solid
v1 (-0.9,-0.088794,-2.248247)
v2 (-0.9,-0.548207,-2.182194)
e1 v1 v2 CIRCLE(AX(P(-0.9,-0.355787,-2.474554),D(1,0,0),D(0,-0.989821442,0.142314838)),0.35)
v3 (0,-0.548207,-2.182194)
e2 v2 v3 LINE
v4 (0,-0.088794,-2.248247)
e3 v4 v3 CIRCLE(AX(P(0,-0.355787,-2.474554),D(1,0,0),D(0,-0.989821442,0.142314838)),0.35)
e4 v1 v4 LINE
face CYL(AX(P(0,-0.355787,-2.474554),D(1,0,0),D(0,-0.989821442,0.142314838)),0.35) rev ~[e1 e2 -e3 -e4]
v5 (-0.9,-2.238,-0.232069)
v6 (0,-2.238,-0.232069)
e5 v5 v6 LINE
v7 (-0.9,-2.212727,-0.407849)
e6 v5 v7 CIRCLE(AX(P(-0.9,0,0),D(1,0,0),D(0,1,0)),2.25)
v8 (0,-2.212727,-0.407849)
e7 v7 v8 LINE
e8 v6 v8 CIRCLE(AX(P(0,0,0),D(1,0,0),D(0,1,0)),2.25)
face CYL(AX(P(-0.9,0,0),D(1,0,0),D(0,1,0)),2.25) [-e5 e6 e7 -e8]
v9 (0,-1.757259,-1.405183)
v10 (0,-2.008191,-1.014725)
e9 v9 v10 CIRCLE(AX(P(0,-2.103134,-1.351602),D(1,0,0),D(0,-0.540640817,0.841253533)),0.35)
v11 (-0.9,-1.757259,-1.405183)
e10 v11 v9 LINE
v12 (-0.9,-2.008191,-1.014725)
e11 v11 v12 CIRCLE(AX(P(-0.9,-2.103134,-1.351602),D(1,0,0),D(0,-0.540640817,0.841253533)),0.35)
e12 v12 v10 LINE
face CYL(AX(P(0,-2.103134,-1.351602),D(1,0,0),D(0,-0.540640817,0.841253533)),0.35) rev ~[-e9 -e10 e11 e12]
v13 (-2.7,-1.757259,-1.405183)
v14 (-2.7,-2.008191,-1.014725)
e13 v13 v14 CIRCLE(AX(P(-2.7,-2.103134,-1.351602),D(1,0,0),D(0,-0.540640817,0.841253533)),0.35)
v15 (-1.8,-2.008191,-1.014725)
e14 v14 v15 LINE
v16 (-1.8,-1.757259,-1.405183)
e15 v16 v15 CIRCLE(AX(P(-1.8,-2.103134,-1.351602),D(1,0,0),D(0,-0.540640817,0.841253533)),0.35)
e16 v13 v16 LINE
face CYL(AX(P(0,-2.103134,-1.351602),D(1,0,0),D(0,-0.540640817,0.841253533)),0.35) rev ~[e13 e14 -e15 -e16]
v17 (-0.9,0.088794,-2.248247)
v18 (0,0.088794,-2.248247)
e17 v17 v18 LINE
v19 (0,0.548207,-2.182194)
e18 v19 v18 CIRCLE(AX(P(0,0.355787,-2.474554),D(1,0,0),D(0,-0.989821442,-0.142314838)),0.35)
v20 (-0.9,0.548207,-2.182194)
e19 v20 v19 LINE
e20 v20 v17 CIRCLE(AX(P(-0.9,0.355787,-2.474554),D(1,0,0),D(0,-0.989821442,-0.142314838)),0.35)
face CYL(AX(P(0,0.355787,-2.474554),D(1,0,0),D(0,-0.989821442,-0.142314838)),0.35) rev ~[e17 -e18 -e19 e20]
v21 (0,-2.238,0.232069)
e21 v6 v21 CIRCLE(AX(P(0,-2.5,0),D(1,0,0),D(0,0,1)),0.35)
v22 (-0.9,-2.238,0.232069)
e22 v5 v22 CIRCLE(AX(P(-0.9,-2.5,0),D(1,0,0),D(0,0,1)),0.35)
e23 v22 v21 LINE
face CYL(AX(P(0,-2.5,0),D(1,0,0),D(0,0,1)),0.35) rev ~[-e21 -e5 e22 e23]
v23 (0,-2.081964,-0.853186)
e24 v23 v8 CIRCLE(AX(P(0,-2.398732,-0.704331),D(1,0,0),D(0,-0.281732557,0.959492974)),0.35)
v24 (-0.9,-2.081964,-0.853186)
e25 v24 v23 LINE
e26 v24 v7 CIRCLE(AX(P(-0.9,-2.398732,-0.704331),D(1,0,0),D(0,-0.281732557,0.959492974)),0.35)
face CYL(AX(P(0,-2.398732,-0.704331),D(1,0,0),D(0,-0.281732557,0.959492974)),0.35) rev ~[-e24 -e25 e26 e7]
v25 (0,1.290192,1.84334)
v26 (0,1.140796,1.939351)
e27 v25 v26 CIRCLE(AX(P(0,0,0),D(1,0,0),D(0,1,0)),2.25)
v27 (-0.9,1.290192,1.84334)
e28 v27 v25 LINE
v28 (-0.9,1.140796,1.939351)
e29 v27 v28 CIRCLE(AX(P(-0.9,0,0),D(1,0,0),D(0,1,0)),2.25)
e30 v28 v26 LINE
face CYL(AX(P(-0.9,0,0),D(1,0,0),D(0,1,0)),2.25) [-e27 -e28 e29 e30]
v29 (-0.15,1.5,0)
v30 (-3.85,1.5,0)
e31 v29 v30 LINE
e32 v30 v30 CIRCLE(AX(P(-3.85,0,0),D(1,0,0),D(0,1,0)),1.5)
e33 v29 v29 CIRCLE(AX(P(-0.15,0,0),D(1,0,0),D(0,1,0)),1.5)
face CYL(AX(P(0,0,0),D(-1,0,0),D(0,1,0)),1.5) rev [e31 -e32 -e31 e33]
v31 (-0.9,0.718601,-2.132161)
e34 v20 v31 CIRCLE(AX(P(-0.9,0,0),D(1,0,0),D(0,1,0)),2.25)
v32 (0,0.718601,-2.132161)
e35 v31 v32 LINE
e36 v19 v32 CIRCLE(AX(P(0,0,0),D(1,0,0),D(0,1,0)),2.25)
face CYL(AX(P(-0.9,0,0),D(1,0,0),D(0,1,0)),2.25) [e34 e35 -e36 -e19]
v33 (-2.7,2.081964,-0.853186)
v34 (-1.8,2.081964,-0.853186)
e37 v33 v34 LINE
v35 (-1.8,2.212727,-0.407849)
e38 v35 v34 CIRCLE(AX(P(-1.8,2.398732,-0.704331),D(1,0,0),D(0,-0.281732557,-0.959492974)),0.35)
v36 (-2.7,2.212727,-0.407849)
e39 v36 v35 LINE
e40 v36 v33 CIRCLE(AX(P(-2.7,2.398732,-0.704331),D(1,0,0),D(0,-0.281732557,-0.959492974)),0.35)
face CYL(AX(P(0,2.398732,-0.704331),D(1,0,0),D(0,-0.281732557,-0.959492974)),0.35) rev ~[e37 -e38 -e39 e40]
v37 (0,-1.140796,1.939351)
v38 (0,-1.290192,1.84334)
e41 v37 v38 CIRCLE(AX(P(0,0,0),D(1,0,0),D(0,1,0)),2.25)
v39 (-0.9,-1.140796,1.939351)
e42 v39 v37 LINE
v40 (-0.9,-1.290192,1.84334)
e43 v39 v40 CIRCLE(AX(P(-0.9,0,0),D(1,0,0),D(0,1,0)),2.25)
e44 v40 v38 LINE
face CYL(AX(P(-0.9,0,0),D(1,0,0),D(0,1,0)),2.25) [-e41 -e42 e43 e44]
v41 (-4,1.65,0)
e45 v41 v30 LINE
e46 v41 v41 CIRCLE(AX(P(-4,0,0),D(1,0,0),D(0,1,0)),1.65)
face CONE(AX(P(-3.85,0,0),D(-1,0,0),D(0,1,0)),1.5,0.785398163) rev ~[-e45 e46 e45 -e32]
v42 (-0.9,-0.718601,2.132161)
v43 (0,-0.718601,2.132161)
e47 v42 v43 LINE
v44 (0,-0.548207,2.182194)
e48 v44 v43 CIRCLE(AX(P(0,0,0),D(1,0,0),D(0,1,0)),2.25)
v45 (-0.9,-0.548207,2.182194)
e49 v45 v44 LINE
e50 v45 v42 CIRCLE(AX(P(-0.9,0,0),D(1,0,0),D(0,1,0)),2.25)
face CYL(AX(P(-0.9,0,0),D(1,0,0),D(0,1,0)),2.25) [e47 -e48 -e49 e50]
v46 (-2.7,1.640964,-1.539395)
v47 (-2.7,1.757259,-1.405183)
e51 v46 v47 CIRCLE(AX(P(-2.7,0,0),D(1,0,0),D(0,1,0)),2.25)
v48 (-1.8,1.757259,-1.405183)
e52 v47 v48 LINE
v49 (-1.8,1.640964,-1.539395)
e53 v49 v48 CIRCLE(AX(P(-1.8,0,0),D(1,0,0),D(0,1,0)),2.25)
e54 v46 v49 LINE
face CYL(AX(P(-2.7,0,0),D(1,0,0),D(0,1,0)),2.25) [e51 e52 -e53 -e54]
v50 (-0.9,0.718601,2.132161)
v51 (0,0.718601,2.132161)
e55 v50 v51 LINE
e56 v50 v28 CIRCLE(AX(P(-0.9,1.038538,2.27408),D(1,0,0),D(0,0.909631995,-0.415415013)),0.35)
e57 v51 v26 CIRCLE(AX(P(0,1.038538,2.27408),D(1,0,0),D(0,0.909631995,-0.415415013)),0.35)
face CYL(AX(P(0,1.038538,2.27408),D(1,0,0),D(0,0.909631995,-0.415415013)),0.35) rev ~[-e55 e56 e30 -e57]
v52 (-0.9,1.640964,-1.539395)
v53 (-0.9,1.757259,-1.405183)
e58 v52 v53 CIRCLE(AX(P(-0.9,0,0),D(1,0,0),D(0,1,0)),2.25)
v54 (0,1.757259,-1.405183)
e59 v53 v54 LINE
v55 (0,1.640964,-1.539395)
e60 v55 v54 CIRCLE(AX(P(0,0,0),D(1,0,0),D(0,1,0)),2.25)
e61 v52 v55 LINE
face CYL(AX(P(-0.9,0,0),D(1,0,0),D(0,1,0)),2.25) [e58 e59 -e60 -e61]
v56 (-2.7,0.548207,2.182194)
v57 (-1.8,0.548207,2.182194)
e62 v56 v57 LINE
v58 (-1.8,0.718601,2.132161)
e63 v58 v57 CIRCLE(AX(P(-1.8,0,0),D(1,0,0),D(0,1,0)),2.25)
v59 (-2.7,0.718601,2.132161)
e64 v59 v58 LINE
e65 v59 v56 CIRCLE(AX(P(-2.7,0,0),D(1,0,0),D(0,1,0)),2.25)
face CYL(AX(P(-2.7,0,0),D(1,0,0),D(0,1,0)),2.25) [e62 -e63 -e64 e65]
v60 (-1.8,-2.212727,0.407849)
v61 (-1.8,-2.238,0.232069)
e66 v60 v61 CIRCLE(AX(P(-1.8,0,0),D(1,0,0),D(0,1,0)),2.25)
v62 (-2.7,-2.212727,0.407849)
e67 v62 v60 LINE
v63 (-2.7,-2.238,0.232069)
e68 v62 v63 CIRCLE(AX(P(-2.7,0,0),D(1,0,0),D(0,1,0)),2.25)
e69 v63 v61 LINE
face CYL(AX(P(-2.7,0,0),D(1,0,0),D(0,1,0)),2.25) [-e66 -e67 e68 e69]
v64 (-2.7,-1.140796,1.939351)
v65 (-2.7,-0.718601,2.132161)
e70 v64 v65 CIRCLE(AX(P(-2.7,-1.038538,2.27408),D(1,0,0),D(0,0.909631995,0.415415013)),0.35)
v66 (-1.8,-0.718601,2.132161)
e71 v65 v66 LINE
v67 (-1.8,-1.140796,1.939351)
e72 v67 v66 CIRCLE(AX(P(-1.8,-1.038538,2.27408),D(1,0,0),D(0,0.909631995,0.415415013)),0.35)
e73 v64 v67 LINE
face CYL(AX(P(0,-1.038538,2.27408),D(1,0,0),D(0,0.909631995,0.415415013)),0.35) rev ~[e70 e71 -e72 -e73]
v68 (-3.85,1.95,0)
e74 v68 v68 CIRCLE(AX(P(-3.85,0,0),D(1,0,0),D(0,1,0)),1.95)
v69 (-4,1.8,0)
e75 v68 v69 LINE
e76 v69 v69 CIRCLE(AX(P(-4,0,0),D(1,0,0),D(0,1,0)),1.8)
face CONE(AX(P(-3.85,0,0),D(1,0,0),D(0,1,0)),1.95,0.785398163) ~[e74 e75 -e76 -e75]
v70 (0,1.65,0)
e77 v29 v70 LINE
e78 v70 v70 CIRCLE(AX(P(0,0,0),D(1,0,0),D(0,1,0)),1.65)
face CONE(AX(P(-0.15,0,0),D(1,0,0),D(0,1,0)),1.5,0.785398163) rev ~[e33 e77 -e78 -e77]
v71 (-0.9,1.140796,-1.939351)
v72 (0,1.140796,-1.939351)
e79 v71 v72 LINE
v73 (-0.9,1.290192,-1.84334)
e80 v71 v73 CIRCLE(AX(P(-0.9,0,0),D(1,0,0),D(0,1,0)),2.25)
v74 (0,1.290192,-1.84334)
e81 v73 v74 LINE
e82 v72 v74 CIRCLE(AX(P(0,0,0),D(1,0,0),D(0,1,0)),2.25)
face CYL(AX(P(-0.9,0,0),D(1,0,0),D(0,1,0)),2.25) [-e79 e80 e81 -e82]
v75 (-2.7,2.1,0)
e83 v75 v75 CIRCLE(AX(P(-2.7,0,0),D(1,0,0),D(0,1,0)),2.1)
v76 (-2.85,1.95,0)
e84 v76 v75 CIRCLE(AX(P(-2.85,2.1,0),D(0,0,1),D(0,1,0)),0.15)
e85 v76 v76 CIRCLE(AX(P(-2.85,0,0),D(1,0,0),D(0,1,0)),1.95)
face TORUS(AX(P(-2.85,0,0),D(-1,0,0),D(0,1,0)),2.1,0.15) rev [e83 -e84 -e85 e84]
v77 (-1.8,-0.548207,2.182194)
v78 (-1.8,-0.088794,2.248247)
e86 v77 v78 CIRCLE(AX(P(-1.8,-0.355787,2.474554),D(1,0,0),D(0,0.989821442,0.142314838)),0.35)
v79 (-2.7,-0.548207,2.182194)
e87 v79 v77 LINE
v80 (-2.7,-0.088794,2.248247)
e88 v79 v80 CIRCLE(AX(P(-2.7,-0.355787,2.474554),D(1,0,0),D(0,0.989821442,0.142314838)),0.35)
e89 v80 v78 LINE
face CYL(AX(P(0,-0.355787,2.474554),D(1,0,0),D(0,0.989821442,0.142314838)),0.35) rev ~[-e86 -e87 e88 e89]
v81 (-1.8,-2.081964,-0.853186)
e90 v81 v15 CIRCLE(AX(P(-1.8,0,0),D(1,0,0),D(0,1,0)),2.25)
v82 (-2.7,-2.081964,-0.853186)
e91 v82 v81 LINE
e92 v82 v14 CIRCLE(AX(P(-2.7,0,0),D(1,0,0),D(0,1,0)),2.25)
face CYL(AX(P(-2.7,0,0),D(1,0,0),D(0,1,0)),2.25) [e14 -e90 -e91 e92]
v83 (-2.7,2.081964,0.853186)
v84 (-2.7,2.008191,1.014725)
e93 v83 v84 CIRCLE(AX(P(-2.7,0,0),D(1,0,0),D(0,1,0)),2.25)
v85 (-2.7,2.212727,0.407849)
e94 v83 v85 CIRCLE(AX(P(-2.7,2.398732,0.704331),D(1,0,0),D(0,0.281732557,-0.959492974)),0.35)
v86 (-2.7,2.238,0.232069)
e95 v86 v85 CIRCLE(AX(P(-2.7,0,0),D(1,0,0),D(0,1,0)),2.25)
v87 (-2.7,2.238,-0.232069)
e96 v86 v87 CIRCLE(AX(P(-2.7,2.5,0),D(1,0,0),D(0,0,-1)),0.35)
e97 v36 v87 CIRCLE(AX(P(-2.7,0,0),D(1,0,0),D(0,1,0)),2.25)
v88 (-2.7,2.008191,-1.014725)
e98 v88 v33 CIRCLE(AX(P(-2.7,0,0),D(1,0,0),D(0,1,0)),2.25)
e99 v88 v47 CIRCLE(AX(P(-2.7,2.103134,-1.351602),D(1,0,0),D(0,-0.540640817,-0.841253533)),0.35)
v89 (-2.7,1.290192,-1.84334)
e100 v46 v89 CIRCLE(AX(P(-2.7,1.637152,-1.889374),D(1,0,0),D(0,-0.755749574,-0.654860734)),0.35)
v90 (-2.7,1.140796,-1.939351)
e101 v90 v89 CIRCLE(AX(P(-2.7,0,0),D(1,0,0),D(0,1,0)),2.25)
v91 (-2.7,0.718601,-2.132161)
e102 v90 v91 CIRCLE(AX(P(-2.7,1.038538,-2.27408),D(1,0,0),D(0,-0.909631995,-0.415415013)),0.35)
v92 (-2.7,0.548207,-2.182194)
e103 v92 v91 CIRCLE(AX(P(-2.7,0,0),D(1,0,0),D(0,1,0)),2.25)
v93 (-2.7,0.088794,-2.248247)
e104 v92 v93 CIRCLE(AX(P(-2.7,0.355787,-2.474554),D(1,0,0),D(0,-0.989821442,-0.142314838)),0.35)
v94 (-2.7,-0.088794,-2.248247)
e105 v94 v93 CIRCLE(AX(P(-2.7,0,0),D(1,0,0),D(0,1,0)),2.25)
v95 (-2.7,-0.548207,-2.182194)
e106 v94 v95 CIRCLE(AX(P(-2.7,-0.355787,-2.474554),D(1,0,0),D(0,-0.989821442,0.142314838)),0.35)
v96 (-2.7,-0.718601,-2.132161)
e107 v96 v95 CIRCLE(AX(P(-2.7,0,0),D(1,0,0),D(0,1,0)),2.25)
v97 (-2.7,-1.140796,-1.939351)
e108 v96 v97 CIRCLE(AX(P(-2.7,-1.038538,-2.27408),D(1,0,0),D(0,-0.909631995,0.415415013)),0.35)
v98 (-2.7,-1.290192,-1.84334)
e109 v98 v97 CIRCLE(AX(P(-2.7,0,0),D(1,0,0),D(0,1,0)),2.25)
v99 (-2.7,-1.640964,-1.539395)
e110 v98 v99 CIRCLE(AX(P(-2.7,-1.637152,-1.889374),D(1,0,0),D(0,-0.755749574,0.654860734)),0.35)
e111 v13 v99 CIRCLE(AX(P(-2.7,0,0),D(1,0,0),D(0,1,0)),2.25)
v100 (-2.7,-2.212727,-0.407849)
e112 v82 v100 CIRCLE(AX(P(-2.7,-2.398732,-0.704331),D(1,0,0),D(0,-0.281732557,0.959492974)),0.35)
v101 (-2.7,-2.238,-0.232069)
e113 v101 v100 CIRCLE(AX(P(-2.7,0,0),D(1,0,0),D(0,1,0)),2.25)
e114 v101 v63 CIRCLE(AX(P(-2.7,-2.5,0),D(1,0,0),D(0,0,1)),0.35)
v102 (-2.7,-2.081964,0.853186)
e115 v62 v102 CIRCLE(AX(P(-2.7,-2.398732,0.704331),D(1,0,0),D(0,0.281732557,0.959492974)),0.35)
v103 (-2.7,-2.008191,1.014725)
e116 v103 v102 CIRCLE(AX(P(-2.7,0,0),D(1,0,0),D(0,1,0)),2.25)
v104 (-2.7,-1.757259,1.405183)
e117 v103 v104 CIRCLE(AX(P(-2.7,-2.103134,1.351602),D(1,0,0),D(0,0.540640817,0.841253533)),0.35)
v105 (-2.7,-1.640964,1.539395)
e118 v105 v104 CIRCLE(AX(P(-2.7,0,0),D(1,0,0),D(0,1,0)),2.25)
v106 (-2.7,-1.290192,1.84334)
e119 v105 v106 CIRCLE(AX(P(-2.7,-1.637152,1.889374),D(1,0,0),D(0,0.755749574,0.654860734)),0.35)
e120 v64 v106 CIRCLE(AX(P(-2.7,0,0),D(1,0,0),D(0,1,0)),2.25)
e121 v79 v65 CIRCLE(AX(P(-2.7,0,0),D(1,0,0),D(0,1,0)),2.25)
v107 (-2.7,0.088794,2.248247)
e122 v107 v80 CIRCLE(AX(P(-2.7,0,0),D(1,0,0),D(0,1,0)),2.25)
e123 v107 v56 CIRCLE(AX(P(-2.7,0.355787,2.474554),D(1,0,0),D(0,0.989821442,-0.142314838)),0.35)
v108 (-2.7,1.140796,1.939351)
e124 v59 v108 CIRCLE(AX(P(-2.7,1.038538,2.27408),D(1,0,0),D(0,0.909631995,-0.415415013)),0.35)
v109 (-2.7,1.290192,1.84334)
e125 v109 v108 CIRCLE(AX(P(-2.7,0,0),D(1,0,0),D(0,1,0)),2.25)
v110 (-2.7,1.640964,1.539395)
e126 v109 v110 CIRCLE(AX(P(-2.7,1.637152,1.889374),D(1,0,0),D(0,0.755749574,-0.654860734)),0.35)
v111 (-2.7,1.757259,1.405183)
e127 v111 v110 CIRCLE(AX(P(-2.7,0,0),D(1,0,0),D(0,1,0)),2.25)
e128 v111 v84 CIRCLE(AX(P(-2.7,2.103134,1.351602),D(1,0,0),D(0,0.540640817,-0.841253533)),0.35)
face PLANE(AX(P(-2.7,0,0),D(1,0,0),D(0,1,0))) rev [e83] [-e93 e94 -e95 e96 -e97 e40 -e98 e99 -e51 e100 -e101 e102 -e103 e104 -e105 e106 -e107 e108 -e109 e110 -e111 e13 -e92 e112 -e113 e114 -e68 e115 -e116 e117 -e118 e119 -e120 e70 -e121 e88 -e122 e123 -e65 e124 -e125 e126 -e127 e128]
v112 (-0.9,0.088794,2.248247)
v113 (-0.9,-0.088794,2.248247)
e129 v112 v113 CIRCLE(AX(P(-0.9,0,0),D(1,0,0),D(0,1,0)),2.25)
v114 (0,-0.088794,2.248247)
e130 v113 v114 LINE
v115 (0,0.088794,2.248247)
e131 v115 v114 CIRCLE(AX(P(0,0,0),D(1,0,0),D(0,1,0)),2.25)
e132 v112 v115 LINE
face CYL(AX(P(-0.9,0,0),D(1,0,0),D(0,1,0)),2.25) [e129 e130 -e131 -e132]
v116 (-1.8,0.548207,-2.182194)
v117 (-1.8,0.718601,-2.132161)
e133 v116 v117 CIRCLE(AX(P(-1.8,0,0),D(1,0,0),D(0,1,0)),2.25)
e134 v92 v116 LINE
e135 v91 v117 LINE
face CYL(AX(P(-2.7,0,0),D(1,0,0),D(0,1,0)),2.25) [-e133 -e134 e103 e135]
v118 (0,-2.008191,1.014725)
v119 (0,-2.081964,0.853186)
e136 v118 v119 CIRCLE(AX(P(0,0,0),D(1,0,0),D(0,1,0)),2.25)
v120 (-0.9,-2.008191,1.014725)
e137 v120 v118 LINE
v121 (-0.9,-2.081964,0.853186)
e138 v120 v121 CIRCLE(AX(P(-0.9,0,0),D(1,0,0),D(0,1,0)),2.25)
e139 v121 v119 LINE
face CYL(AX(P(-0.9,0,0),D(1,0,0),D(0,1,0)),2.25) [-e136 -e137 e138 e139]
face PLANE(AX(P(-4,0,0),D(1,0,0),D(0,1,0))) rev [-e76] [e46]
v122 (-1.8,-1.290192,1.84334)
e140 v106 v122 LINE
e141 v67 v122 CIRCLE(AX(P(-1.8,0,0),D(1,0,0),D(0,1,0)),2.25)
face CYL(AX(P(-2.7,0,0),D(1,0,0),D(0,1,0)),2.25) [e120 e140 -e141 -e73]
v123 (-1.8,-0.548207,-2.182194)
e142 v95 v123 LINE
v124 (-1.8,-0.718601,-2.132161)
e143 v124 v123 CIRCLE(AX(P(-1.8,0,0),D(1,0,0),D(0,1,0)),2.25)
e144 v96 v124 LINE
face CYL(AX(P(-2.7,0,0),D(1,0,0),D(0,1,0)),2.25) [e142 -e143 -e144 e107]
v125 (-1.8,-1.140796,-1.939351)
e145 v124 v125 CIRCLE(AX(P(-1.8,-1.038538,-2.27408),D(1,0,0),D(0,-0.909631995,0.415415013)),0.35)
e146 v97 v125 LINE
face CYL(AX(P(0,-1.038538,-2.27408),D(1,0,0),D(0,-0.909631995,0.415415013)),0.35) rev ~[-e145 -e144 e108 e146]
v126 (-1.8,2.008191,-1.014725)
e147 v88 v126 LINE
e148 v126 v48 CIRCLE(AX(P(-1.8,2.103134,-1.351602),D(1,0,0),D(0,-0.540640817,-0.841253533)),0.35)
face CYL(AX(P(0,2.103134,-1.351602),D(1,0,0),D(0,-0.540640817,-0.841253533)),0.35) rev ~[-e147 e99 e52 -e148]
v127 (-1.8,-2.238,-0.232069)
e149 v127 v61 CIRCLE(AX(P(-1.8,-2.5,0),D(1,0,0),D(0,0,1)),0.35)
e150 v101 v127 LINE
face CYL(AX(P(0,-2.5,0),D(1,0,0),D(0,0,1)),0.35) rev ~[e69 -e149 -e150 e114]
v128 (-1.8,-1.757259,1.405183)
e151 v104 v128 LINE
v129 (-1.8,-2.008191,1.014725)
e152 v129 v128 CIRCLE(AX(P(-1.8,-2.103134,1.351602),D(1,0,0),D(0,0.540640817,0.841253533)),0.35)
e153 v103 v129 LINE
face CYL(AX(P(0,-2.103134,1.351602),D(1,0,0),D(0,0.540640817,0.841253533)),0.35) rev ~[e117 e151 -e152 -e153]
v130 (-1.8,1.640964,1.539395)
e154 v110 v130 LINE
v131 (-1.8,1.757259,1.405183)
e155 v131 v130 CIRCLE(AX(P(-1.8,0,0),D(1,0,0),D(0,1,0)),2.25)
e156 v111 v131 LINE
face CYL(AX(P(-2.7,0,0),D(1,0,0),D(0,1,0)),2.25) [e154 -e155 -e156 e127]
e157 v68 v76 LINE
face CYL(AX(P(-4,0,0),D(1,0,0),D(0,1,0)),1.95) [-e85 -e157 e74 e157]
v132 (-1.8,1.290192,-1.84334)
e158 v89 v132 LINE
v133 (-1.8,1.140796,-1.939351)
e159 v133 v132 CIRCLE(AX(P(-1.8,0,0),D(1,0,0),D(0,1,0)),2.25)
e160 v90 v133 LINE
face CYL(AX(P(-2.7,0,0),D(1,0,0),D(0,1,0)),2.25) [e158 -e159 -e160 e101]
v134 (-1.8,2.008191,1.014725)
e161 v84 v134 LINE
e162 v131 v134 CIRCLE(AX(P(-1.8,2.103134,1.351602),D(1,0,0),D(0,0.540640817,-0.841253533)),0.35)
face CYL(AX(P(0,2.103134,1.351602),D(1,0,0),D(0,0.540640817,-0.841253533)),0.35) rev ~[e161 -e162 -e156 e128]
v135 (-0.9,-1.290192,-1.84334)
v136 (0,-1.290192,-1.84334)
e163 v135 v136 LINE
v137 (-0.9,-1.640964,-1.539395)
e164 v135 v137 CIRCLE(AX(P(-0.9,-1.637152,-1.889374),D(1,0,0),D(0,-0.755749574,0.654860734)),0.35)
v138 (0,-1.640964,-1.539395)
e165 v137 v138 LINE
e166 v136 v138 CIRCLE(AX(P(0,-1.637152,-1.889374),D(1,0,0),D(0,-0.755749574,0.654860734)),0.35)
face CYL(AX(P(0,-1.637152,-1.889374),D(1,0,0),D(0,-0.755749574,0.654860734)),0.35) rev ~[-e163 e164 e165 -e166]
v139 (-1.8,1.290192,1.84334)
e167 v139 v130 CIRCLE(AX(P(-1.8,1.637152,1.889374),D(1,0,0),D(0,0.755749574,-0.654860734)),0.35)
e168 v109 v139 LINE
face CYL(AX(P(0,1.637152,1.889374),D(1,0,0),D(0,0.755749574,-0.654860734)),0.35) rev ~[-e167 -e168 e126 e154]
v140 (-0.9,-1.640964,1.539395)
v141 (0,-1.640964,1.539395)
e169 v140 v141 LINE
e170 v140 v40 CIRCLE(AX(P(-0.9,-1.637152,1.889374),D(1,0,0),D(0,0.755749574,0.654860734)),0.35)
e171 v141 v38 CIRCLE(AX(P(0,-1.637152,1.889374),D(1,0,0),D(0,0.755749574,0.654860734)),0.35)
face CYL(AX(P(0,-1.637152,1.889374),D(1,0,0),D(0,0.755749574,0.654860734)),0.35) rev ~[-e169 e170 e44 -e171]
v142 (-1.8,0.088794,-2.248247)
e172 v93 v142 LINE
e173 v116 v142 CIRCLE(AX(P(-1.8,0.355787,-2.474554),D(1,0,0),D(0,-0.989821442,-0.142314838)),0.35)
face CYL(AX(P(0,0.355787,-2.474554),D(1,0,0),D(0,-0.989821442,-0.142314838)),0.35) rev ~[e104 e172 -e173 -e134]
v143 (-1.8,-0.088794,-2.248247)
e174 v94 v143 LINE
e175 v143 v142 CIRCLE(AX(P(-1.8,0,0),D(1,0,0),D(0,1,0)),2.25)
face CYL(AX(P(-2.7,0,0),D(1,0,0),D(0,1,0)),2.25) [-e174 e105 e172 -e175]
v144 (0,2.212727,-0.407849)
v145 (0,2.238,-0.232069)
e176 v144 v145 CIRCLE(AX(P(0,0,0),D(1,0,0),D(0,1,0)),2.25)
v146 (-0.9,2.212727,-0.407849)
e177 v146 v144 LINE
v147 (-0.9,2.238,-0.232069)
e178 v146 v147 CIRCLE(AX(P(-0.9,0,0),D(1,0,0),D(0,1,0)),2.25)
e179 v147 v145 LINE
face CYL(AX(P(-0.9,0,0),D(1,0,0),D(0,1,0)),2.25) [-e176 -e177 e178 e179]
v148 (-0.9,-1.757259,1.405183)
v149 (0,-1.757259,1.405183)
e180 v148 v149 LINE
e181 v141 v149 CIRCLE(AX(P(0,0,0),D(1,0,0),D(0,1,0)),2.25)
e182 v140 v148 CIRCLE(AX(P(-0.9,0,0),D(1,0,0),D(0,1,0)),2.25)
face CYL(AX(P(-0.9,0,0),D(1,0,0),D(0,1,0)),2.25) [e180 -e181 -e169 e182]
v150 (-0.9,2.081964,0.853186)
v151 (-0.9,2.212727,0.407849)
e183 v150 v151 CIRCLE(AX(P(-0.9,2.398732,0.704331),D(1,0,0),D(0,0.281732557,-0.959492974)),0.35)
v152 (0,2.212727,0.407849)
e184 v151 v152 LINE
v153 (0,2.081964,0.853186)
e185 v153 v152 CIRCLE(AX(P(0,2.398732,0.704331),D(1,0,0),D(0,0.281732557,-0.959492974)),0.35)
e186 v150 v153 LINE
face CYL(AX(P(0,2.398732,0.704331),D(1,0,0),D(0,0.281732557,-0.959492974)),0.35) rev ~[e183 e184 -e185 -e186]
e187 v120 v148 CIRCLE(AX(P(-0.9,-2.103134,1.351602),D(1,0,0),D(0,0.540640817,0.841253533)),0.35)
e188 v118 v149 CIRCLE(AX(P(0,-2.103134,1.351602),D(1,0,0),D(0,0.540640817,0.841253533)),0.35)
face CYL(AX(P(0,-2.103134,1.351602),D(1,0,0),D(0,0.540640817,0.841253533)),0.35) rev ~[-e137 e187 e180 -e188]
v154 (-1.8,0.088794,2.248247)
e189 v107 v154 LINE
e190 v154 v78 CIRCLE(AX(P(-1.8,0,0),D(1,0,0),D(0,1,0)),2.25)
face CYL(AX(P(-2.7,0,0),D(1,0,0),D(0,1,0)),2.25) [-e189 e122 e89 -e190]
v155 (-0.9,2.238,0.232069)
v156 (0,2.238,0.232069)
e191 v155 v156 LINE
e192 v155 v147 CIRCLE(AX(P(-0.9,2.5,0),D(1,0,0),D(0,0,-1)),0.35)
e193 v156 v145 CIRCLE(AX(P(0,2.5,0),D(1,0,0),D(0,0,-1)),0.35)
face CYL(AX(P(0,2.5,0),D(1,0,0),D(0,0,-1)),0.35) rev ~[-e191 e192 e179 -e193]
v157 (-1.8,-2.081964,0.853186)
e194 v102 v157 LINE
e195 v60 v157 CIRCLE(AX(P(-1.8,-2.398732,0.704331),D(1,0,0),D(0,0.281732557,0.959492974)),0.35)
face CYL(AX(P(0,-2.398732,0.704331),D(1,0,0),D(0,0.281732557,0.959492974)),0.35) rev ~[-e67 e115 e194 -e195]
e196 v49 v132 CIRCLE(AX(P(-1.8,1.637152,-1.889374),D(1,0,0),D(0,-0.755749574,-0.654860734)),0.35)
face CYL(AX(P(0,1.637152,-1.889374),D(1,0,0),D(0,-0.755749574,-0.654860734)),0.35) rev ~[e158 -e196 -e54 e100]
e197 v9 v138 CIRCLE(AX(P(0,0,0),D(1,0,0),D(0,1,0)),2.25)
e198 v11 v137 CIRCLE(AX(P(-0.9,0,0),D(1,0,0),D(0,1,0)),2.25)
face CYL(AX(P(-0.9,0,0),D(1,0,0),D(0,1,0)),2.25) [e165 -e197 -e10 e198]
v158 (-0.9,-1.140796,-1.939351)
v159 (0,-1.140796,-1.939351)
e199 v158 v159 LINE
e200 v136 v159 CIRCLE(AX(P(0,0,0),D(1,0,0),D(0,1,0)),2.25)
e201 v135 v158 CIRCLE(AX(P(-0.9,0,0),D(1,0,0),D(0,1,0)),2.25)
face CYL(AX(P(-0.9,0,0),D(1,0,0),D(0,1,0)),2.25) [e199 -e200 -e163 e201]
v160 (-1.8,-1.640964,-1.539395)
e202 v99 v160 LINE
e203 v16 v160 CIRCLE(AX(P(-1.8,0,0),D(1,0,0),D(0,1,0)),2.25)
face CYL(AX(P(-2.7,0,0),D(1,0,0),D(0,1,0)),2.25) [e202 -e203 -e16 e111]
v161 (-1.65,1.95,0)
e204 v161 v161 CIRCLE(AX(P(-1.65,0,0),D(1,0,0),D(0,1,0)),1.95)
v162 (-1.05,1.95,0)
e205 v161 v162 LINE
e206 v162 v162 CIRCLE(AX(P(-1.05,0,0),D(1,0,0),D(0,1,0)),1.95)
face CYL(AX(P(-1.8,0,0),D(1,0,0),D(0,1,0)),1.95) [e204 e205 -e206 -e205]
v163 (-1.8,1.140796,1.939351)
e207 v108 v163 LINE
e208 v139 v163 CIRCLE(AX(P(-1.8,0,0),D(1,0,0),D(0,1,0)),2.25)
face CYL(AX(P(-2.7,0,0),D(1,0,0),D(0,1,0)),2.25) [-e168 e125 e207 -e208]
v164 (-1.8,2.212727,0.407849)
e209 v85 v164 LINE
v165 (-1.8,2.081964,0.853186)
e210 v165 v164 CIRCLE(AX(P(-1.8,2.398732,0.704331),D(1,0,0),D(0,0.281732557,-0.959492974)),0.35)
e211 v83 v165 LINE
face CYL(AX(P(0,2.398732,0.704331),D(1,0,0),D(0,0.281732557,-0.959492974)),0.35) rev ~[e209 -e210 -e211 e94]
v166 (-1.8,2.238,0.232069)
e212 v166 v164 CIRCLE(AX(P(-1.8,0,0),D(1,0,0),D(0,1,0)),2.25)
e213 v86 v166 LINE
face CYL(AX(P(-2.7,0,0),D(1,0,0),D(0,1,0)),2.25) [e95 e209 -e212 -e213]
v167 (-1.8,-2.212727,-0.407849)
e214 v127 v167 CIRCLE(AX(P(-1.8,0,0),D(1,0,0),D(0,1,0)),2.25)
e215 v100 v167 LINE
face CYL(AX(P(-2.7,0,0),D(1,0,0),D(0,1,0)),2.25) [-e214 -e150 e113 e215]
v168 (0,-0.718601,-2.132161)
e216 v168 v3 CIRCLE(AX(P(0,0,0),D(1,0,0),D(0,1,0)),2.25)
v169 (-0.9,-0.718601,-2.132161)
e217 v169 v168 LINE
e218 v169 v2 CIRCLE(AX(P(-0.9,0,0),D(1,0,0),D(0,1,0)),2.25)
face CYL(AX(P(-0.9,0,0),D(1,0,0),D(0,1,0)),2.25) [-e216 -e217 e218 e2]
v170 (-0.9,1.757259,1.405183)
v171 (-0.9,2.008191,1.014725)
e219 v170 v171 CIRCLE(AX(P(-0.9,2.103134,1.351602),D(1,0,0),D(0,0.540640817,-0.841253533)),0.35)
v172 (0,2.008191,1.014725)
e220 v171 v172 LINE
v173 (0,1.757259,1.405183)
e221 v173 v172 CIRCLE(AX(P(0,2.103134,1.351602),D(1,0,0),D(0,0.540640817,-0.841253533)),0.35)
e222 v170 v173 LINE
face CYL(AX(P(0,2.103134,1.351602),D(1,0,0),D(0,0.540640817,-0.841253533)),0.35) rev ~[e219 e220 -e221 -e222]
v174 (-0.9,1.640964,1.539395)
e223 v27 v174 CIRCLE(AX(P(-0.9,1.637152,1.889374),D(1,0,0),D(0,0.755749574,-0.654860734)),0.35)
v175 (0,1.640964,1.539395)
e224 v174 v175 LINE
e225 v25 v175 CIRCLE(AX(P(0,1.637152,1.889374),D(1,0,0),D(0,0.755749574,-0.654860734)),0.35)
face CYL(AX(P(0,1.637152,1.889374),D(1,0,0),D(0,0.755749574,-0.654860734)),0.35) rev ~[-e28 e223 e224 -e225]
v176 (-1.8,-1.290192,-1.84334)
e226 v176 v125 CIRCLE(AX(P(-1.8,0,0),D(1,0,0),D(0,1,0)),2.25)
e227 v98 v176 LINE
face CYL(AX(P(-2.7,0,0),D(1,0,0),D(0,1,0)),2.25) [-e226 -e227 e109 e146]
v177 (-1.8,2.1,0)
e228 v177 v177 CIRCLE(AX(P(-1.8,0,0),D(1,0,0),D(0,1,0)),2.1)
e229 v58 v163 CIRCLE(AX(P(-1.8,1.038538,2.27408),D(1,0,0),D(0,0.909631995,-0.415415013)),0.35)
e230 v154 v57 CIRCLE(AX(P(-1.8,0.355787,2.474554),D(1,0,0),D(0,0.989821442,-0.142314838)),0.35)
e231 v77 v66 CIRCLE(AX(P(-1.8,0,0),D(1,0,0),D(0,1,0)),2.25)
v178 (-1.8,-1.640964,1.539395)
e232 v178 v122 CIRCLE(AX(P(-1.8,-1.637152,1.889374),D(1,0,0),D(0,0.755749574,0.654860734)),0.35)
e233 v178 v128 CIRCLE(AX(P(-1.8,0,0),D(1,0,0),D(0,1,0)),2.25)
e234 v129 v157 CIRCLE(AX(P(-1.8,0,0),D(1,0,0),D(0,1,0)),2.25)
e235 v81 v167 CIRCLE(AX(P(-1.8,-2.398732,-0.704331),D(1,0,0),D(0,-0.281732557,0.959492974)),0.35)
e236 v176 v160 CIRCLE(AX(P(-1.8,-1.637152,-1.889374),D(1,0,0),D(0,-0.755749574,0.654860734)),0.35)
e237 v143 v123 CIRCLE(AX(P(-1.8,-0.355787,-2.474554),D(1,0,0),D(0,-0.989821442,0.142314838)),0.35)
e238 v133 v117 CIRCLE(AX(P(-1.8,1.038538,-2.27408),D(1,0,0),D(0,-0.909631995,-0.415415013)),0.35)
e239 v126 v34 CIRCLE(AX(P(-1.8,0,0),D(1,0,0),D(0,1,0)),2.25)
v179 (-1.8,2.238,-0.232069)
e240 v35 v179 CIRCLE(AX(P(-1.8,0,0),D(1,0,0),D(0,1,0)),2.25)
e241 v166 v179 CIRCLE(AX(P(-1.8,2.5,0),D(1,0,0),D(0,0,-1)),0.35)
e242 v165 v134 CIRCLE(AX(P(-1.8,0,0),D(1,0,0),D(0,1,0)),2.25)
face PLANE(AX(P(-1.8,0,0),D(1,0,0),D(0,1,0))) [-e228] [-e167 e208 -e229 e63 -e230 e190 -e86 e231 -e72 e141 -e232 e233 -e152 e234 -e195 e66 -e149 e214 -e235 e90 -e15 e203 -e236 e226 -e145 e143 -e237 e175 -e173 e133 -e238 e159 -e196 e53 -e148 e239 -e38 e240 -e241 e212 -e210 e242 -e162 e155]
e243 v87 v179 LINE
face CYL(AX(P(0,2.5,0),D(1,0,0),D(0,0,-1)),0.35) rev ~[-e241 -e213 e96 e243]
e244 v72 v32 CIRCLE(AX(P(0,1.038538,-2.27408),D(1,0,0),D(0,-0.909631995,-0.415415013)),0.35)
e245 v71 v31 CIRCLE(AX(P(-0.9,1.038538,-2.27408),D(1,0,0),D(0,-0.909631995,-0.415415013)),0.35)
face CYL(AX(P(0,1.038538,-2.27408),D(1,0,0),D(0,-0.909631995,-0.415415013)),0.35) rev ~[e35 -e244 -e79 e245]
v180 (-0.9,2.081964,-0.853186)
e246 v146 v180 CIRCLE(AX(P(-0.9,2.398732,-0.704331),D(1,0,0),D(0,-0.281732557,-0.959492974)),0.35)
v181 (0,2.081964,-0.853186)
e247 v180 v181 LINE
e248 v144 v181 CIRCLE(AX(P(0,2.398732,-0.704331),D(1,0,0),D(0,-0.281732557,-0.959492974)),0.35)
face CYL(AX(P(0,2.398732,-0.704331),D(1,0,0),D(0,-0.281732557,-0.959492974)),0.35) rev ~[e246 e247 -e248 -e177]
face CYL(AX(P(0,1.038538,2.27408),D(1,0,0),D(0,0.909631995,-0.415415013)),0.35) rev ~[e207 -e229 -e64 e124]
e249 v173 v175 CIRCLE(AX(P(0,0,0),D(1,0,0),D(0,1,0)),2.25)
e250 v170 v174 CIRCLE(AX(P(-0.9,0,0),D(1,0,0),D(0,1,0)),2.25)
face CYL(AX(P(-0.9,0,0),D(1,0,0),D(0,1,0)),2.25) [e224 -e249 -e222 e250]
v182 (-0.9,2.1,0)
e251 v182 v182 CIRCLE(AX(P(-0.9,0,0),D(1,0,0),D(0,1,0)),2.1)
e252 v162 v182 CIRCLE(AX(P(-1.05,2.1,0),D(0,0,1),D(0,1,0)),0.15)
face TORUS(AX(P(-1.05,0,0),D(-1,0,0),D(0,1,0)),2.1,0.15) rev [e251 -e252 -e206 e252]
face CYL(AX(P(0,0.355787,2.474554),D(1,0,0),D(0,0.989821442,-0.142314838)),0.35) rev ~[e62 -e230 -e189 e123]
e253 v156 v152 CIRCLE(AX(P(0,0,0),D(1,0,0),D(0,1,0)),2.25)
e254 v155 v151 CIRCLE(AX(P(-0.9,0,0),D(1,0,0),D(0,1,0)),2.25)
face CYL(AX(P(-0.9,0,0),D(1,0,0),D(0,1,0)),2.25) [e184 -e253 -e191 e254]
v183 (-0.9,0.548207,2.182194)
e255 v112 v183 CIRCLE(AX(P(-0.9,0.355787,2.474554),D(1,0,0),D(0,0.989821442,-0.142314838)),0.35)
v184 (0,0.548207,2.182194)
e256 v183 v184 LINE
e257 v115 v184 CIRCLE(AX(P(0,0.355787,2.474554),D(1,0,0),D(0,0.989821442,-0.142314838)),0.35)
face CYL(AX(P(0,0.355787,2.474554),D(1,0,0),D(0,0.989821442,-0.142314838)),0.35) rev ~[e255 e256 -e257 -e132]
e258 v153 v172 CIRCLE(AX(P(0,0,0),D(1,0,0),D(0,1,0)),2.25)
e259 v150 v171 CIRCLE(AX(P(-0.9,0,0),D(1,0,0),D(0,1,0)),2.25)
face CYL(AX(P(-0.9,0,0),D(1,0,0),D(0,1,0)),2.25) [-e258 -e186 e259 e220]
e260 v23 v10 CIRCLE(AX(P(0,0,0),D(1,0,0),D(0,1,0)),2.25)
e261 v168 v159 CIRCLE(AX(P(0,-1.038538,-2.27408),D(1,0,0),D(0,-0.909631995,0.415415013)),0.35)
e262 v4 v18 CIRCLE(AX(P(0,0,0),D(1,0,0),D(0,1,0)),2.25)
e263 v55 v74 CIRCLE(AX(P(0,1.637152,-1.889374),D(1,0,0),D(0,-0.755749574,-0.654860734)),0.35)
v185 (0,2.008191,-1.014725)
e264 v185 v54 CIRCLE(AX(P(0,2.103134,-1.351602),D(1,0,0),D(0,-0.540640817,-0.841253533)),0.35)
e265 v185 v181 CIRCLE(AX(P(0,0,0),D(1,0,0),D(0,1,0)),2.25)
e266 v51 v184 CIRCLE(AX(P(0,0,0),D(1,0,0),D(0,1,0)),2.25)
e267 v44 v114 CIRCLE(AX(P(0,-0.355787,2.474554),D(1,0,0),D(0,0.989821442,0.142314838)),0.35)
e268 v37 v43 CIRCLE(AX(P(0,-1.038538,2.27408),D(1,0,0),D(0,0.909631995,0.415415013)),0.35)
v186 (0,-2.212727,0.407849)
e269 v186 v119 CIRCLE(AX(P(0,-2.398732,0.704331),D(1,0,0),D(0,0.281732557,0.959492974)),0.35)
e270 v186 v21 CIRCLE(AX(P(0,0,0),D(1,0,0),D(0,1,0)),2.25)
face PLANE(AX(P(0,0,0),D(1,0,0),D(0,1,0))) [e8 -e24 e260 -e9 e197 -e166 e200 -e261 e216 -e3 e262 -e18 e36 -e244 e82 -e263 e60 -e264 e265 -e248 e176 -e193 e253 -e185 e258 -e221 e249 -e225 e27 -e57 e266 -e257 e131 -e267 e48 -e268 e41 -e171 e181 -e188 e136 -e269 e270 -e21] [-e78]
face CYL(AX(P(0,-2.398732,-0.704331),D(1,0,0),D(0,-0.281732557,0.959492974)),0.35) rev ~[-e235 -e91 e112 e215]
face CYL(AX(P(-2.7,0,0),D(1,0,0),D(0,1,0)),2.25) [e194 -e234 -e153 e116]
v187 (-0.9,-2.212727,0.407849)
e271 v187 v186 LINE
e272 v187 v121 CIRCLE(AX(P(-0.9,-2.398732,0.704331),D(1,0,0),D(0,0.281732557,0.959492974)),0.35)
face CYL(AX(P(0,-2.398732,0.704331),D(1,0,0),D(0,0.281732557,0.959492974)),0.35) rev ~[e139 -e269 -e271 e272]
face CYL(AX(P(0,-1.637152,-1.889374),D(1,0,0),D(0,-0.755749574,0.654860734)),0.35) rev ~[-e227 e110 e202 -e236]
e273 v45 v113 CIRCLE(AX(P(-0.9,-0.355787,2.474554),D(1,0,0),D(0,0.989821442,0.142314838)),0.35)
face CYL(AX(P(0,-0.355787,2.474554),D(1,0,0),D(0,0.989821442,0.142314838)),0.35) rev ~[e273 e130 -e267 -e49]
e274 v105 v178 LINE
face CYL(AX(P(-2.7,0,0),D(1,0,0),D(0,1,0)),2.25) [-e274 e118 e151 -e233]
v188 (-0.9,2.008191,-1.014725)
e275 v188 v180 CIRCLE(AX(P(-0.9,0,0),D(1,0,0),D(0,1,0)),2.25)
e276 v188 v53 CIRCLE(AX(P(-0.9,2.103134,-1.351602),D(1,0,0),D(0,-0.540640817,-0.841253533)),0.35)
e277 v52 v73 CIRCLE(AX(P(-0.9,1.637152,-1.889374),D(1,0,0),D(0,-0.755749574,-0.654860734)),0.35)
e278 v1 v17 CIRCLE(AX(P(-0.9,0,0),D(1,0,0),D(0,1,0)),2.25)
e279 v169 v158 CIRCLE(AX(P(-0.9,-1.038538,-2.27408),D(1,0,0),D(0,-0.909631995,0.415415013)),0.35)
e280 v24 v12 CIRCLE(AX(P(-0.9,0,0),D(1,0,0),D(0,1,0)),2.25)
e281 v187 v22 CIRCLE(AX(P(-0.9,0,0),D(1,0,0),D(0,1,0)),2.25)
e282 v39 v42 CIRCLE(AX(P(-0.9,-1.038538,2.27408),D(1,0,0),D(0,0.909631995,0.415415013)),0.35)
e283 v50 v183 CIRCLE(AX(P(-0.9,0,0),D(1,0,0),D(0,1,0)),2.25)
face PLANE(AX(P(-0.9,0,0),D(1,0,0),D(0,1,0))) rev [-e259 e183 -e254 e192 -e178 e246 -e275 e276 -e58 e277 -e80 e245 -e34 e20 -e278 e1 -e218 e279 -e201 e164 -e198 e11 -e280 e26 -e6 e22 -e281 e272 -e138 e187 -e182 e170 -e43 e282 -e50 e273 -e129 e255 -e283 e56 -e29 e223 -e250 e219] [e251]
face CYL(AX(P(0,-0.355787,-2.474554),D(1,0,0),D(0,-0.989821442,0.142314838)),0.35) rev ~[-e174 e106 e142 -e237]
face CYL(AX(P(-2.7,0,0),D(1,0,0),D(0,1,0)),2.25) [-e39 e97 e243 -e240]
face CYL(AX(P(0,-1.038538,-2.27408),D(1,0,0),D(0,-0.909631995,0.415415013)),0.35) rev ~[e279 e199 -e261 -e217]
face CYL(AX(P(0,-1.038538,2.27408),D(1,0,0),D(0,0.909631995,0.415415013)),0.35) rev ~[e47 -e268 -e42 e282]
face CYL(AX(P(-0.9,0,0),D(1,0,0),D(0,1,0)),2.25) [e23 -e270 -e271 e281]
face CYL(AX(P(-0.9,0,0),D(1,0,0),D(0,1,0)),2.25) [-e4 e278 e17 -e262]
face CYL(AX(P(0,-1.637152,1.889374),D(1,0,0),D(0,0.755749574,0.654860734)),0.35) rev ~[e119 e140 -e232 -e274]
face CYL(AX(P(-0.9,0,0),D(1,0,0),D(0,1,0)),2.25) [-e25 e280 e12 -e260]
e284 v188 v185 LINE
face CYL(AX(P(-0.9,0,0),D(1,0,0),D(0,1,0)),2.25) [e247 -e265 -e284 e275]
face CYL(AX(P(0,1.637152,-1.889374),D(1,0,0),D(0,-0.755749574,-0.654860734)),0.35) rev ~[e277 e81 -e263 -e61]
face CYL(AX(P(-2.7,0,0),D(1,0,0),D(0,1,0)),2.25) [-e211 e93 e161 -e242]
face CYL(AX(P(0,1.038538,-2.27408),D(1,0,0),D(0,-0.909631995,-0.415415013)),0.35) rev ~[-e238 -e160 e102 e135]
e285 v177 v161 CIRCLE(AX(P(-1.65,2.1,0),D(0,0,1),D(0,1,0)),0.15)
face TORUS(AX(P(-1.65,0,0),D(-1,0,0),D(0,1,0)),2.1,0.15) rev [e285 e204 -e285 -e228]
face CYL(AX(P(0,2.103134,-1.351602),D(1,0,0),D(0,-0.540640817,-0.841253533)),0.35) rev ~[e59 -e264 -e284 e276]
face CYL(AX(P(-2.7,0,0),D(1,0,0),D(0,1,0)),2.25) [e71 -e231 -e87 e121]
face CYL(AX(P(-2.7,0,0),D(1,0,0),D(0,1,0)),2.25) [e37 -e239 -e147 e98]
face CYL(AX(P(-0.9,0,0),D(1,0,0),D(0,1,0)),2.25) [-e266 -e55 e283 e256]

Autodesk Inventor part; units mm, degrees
ref_plane "YZ Plane" through (0, 0, 0) normal (1, 0, 0) x (0, 1, 0)
ref_plane "XZ Plane" through (0, 0, 0) normal (0, 1, 0) x (-1, 0, 0)
ref_plane "XY Plane" through (0, 0, 0) normal (0, 0, 1) x (1, 0, 0)
sketch "Эскиз1" plane through (0, 0, 0) normal (0, 0, 1) x (1, 0, 0)
  line L0 (0, 0) -> (0, 22.3165) construction
  line L1 (0, 0) -> (21.2367, 0) construction
  line L2 (-4, 1.95) -> (-2.7, 1.95)
  line L3 (-2.7, 1.95) -> (-2.7, 2.25)
  line L4 (-2.7, 2.25) -> (-1.8, 2.25)
  line L5 (-1.8, 2.25) -> (-1.8, 1.95)
  line L6 (-1.8, 1.95) -> (-0.9, 1.95)
  line L7 (-0.9, 1.95) -> (-0.9, 2.25)
  line L8 (-0.9, 2.25) -> (0, 2.25)
  line L9 (0, 2.25) -> (0, 1.5)
  line L10 (0, 1.5) -> (-4, 1.5)
  line L11 (-4, 1.5) -> (-4, 1.95)
  dimension "d0" = 3
  dimension "d1" = 4.5
  dimension "d2" = 4
  dimension "d3" = 0.9
  dimension "d4" = 0.3
revolve "Вращение1" add sketch "Эскиз1" angle 360 about axis through (0, 0, 0) along (1, 0, 0)
sketch "Эскиз2" plane through (0, 0, 0) normal (1, 0, 0) x (0, 0, -1)
  line L0 (0, 0) -> (0, 3.5465) construction
  circle A0 centre (0, 0) radius 2.25 construction
  circle A1 centre (0, 2.5) radius 0.35
  dimension "d6" = 0.7
  dimension "d7" = 2.5
extrude "Выдавливание1" cut sketch "Эскиз2" against normal blind 10
pattern_circular "Круговой массив1" count 22 over 360 about axis through (-10, 0, 0) along (1, 0, 0) of "Выдавливание1"
thread "Резьба1" size "M3x0.5" class "6H" standard "ANSI Metric M Profile" full length
chamfer "Фаска1" distance 0.15 angle 45 3 edges at (0, -1.5, 0) (-4, -1.5, 0) (-4, -1.95, 0)
fillet "Сопряжение1" radius 0.15 3 edges at (-1.8, -1.95, 0) (-0.9, -1.95, 0) (-2.7, -1.95, 0)
properties part number "Втулка 2" material "По умолчанию1"
